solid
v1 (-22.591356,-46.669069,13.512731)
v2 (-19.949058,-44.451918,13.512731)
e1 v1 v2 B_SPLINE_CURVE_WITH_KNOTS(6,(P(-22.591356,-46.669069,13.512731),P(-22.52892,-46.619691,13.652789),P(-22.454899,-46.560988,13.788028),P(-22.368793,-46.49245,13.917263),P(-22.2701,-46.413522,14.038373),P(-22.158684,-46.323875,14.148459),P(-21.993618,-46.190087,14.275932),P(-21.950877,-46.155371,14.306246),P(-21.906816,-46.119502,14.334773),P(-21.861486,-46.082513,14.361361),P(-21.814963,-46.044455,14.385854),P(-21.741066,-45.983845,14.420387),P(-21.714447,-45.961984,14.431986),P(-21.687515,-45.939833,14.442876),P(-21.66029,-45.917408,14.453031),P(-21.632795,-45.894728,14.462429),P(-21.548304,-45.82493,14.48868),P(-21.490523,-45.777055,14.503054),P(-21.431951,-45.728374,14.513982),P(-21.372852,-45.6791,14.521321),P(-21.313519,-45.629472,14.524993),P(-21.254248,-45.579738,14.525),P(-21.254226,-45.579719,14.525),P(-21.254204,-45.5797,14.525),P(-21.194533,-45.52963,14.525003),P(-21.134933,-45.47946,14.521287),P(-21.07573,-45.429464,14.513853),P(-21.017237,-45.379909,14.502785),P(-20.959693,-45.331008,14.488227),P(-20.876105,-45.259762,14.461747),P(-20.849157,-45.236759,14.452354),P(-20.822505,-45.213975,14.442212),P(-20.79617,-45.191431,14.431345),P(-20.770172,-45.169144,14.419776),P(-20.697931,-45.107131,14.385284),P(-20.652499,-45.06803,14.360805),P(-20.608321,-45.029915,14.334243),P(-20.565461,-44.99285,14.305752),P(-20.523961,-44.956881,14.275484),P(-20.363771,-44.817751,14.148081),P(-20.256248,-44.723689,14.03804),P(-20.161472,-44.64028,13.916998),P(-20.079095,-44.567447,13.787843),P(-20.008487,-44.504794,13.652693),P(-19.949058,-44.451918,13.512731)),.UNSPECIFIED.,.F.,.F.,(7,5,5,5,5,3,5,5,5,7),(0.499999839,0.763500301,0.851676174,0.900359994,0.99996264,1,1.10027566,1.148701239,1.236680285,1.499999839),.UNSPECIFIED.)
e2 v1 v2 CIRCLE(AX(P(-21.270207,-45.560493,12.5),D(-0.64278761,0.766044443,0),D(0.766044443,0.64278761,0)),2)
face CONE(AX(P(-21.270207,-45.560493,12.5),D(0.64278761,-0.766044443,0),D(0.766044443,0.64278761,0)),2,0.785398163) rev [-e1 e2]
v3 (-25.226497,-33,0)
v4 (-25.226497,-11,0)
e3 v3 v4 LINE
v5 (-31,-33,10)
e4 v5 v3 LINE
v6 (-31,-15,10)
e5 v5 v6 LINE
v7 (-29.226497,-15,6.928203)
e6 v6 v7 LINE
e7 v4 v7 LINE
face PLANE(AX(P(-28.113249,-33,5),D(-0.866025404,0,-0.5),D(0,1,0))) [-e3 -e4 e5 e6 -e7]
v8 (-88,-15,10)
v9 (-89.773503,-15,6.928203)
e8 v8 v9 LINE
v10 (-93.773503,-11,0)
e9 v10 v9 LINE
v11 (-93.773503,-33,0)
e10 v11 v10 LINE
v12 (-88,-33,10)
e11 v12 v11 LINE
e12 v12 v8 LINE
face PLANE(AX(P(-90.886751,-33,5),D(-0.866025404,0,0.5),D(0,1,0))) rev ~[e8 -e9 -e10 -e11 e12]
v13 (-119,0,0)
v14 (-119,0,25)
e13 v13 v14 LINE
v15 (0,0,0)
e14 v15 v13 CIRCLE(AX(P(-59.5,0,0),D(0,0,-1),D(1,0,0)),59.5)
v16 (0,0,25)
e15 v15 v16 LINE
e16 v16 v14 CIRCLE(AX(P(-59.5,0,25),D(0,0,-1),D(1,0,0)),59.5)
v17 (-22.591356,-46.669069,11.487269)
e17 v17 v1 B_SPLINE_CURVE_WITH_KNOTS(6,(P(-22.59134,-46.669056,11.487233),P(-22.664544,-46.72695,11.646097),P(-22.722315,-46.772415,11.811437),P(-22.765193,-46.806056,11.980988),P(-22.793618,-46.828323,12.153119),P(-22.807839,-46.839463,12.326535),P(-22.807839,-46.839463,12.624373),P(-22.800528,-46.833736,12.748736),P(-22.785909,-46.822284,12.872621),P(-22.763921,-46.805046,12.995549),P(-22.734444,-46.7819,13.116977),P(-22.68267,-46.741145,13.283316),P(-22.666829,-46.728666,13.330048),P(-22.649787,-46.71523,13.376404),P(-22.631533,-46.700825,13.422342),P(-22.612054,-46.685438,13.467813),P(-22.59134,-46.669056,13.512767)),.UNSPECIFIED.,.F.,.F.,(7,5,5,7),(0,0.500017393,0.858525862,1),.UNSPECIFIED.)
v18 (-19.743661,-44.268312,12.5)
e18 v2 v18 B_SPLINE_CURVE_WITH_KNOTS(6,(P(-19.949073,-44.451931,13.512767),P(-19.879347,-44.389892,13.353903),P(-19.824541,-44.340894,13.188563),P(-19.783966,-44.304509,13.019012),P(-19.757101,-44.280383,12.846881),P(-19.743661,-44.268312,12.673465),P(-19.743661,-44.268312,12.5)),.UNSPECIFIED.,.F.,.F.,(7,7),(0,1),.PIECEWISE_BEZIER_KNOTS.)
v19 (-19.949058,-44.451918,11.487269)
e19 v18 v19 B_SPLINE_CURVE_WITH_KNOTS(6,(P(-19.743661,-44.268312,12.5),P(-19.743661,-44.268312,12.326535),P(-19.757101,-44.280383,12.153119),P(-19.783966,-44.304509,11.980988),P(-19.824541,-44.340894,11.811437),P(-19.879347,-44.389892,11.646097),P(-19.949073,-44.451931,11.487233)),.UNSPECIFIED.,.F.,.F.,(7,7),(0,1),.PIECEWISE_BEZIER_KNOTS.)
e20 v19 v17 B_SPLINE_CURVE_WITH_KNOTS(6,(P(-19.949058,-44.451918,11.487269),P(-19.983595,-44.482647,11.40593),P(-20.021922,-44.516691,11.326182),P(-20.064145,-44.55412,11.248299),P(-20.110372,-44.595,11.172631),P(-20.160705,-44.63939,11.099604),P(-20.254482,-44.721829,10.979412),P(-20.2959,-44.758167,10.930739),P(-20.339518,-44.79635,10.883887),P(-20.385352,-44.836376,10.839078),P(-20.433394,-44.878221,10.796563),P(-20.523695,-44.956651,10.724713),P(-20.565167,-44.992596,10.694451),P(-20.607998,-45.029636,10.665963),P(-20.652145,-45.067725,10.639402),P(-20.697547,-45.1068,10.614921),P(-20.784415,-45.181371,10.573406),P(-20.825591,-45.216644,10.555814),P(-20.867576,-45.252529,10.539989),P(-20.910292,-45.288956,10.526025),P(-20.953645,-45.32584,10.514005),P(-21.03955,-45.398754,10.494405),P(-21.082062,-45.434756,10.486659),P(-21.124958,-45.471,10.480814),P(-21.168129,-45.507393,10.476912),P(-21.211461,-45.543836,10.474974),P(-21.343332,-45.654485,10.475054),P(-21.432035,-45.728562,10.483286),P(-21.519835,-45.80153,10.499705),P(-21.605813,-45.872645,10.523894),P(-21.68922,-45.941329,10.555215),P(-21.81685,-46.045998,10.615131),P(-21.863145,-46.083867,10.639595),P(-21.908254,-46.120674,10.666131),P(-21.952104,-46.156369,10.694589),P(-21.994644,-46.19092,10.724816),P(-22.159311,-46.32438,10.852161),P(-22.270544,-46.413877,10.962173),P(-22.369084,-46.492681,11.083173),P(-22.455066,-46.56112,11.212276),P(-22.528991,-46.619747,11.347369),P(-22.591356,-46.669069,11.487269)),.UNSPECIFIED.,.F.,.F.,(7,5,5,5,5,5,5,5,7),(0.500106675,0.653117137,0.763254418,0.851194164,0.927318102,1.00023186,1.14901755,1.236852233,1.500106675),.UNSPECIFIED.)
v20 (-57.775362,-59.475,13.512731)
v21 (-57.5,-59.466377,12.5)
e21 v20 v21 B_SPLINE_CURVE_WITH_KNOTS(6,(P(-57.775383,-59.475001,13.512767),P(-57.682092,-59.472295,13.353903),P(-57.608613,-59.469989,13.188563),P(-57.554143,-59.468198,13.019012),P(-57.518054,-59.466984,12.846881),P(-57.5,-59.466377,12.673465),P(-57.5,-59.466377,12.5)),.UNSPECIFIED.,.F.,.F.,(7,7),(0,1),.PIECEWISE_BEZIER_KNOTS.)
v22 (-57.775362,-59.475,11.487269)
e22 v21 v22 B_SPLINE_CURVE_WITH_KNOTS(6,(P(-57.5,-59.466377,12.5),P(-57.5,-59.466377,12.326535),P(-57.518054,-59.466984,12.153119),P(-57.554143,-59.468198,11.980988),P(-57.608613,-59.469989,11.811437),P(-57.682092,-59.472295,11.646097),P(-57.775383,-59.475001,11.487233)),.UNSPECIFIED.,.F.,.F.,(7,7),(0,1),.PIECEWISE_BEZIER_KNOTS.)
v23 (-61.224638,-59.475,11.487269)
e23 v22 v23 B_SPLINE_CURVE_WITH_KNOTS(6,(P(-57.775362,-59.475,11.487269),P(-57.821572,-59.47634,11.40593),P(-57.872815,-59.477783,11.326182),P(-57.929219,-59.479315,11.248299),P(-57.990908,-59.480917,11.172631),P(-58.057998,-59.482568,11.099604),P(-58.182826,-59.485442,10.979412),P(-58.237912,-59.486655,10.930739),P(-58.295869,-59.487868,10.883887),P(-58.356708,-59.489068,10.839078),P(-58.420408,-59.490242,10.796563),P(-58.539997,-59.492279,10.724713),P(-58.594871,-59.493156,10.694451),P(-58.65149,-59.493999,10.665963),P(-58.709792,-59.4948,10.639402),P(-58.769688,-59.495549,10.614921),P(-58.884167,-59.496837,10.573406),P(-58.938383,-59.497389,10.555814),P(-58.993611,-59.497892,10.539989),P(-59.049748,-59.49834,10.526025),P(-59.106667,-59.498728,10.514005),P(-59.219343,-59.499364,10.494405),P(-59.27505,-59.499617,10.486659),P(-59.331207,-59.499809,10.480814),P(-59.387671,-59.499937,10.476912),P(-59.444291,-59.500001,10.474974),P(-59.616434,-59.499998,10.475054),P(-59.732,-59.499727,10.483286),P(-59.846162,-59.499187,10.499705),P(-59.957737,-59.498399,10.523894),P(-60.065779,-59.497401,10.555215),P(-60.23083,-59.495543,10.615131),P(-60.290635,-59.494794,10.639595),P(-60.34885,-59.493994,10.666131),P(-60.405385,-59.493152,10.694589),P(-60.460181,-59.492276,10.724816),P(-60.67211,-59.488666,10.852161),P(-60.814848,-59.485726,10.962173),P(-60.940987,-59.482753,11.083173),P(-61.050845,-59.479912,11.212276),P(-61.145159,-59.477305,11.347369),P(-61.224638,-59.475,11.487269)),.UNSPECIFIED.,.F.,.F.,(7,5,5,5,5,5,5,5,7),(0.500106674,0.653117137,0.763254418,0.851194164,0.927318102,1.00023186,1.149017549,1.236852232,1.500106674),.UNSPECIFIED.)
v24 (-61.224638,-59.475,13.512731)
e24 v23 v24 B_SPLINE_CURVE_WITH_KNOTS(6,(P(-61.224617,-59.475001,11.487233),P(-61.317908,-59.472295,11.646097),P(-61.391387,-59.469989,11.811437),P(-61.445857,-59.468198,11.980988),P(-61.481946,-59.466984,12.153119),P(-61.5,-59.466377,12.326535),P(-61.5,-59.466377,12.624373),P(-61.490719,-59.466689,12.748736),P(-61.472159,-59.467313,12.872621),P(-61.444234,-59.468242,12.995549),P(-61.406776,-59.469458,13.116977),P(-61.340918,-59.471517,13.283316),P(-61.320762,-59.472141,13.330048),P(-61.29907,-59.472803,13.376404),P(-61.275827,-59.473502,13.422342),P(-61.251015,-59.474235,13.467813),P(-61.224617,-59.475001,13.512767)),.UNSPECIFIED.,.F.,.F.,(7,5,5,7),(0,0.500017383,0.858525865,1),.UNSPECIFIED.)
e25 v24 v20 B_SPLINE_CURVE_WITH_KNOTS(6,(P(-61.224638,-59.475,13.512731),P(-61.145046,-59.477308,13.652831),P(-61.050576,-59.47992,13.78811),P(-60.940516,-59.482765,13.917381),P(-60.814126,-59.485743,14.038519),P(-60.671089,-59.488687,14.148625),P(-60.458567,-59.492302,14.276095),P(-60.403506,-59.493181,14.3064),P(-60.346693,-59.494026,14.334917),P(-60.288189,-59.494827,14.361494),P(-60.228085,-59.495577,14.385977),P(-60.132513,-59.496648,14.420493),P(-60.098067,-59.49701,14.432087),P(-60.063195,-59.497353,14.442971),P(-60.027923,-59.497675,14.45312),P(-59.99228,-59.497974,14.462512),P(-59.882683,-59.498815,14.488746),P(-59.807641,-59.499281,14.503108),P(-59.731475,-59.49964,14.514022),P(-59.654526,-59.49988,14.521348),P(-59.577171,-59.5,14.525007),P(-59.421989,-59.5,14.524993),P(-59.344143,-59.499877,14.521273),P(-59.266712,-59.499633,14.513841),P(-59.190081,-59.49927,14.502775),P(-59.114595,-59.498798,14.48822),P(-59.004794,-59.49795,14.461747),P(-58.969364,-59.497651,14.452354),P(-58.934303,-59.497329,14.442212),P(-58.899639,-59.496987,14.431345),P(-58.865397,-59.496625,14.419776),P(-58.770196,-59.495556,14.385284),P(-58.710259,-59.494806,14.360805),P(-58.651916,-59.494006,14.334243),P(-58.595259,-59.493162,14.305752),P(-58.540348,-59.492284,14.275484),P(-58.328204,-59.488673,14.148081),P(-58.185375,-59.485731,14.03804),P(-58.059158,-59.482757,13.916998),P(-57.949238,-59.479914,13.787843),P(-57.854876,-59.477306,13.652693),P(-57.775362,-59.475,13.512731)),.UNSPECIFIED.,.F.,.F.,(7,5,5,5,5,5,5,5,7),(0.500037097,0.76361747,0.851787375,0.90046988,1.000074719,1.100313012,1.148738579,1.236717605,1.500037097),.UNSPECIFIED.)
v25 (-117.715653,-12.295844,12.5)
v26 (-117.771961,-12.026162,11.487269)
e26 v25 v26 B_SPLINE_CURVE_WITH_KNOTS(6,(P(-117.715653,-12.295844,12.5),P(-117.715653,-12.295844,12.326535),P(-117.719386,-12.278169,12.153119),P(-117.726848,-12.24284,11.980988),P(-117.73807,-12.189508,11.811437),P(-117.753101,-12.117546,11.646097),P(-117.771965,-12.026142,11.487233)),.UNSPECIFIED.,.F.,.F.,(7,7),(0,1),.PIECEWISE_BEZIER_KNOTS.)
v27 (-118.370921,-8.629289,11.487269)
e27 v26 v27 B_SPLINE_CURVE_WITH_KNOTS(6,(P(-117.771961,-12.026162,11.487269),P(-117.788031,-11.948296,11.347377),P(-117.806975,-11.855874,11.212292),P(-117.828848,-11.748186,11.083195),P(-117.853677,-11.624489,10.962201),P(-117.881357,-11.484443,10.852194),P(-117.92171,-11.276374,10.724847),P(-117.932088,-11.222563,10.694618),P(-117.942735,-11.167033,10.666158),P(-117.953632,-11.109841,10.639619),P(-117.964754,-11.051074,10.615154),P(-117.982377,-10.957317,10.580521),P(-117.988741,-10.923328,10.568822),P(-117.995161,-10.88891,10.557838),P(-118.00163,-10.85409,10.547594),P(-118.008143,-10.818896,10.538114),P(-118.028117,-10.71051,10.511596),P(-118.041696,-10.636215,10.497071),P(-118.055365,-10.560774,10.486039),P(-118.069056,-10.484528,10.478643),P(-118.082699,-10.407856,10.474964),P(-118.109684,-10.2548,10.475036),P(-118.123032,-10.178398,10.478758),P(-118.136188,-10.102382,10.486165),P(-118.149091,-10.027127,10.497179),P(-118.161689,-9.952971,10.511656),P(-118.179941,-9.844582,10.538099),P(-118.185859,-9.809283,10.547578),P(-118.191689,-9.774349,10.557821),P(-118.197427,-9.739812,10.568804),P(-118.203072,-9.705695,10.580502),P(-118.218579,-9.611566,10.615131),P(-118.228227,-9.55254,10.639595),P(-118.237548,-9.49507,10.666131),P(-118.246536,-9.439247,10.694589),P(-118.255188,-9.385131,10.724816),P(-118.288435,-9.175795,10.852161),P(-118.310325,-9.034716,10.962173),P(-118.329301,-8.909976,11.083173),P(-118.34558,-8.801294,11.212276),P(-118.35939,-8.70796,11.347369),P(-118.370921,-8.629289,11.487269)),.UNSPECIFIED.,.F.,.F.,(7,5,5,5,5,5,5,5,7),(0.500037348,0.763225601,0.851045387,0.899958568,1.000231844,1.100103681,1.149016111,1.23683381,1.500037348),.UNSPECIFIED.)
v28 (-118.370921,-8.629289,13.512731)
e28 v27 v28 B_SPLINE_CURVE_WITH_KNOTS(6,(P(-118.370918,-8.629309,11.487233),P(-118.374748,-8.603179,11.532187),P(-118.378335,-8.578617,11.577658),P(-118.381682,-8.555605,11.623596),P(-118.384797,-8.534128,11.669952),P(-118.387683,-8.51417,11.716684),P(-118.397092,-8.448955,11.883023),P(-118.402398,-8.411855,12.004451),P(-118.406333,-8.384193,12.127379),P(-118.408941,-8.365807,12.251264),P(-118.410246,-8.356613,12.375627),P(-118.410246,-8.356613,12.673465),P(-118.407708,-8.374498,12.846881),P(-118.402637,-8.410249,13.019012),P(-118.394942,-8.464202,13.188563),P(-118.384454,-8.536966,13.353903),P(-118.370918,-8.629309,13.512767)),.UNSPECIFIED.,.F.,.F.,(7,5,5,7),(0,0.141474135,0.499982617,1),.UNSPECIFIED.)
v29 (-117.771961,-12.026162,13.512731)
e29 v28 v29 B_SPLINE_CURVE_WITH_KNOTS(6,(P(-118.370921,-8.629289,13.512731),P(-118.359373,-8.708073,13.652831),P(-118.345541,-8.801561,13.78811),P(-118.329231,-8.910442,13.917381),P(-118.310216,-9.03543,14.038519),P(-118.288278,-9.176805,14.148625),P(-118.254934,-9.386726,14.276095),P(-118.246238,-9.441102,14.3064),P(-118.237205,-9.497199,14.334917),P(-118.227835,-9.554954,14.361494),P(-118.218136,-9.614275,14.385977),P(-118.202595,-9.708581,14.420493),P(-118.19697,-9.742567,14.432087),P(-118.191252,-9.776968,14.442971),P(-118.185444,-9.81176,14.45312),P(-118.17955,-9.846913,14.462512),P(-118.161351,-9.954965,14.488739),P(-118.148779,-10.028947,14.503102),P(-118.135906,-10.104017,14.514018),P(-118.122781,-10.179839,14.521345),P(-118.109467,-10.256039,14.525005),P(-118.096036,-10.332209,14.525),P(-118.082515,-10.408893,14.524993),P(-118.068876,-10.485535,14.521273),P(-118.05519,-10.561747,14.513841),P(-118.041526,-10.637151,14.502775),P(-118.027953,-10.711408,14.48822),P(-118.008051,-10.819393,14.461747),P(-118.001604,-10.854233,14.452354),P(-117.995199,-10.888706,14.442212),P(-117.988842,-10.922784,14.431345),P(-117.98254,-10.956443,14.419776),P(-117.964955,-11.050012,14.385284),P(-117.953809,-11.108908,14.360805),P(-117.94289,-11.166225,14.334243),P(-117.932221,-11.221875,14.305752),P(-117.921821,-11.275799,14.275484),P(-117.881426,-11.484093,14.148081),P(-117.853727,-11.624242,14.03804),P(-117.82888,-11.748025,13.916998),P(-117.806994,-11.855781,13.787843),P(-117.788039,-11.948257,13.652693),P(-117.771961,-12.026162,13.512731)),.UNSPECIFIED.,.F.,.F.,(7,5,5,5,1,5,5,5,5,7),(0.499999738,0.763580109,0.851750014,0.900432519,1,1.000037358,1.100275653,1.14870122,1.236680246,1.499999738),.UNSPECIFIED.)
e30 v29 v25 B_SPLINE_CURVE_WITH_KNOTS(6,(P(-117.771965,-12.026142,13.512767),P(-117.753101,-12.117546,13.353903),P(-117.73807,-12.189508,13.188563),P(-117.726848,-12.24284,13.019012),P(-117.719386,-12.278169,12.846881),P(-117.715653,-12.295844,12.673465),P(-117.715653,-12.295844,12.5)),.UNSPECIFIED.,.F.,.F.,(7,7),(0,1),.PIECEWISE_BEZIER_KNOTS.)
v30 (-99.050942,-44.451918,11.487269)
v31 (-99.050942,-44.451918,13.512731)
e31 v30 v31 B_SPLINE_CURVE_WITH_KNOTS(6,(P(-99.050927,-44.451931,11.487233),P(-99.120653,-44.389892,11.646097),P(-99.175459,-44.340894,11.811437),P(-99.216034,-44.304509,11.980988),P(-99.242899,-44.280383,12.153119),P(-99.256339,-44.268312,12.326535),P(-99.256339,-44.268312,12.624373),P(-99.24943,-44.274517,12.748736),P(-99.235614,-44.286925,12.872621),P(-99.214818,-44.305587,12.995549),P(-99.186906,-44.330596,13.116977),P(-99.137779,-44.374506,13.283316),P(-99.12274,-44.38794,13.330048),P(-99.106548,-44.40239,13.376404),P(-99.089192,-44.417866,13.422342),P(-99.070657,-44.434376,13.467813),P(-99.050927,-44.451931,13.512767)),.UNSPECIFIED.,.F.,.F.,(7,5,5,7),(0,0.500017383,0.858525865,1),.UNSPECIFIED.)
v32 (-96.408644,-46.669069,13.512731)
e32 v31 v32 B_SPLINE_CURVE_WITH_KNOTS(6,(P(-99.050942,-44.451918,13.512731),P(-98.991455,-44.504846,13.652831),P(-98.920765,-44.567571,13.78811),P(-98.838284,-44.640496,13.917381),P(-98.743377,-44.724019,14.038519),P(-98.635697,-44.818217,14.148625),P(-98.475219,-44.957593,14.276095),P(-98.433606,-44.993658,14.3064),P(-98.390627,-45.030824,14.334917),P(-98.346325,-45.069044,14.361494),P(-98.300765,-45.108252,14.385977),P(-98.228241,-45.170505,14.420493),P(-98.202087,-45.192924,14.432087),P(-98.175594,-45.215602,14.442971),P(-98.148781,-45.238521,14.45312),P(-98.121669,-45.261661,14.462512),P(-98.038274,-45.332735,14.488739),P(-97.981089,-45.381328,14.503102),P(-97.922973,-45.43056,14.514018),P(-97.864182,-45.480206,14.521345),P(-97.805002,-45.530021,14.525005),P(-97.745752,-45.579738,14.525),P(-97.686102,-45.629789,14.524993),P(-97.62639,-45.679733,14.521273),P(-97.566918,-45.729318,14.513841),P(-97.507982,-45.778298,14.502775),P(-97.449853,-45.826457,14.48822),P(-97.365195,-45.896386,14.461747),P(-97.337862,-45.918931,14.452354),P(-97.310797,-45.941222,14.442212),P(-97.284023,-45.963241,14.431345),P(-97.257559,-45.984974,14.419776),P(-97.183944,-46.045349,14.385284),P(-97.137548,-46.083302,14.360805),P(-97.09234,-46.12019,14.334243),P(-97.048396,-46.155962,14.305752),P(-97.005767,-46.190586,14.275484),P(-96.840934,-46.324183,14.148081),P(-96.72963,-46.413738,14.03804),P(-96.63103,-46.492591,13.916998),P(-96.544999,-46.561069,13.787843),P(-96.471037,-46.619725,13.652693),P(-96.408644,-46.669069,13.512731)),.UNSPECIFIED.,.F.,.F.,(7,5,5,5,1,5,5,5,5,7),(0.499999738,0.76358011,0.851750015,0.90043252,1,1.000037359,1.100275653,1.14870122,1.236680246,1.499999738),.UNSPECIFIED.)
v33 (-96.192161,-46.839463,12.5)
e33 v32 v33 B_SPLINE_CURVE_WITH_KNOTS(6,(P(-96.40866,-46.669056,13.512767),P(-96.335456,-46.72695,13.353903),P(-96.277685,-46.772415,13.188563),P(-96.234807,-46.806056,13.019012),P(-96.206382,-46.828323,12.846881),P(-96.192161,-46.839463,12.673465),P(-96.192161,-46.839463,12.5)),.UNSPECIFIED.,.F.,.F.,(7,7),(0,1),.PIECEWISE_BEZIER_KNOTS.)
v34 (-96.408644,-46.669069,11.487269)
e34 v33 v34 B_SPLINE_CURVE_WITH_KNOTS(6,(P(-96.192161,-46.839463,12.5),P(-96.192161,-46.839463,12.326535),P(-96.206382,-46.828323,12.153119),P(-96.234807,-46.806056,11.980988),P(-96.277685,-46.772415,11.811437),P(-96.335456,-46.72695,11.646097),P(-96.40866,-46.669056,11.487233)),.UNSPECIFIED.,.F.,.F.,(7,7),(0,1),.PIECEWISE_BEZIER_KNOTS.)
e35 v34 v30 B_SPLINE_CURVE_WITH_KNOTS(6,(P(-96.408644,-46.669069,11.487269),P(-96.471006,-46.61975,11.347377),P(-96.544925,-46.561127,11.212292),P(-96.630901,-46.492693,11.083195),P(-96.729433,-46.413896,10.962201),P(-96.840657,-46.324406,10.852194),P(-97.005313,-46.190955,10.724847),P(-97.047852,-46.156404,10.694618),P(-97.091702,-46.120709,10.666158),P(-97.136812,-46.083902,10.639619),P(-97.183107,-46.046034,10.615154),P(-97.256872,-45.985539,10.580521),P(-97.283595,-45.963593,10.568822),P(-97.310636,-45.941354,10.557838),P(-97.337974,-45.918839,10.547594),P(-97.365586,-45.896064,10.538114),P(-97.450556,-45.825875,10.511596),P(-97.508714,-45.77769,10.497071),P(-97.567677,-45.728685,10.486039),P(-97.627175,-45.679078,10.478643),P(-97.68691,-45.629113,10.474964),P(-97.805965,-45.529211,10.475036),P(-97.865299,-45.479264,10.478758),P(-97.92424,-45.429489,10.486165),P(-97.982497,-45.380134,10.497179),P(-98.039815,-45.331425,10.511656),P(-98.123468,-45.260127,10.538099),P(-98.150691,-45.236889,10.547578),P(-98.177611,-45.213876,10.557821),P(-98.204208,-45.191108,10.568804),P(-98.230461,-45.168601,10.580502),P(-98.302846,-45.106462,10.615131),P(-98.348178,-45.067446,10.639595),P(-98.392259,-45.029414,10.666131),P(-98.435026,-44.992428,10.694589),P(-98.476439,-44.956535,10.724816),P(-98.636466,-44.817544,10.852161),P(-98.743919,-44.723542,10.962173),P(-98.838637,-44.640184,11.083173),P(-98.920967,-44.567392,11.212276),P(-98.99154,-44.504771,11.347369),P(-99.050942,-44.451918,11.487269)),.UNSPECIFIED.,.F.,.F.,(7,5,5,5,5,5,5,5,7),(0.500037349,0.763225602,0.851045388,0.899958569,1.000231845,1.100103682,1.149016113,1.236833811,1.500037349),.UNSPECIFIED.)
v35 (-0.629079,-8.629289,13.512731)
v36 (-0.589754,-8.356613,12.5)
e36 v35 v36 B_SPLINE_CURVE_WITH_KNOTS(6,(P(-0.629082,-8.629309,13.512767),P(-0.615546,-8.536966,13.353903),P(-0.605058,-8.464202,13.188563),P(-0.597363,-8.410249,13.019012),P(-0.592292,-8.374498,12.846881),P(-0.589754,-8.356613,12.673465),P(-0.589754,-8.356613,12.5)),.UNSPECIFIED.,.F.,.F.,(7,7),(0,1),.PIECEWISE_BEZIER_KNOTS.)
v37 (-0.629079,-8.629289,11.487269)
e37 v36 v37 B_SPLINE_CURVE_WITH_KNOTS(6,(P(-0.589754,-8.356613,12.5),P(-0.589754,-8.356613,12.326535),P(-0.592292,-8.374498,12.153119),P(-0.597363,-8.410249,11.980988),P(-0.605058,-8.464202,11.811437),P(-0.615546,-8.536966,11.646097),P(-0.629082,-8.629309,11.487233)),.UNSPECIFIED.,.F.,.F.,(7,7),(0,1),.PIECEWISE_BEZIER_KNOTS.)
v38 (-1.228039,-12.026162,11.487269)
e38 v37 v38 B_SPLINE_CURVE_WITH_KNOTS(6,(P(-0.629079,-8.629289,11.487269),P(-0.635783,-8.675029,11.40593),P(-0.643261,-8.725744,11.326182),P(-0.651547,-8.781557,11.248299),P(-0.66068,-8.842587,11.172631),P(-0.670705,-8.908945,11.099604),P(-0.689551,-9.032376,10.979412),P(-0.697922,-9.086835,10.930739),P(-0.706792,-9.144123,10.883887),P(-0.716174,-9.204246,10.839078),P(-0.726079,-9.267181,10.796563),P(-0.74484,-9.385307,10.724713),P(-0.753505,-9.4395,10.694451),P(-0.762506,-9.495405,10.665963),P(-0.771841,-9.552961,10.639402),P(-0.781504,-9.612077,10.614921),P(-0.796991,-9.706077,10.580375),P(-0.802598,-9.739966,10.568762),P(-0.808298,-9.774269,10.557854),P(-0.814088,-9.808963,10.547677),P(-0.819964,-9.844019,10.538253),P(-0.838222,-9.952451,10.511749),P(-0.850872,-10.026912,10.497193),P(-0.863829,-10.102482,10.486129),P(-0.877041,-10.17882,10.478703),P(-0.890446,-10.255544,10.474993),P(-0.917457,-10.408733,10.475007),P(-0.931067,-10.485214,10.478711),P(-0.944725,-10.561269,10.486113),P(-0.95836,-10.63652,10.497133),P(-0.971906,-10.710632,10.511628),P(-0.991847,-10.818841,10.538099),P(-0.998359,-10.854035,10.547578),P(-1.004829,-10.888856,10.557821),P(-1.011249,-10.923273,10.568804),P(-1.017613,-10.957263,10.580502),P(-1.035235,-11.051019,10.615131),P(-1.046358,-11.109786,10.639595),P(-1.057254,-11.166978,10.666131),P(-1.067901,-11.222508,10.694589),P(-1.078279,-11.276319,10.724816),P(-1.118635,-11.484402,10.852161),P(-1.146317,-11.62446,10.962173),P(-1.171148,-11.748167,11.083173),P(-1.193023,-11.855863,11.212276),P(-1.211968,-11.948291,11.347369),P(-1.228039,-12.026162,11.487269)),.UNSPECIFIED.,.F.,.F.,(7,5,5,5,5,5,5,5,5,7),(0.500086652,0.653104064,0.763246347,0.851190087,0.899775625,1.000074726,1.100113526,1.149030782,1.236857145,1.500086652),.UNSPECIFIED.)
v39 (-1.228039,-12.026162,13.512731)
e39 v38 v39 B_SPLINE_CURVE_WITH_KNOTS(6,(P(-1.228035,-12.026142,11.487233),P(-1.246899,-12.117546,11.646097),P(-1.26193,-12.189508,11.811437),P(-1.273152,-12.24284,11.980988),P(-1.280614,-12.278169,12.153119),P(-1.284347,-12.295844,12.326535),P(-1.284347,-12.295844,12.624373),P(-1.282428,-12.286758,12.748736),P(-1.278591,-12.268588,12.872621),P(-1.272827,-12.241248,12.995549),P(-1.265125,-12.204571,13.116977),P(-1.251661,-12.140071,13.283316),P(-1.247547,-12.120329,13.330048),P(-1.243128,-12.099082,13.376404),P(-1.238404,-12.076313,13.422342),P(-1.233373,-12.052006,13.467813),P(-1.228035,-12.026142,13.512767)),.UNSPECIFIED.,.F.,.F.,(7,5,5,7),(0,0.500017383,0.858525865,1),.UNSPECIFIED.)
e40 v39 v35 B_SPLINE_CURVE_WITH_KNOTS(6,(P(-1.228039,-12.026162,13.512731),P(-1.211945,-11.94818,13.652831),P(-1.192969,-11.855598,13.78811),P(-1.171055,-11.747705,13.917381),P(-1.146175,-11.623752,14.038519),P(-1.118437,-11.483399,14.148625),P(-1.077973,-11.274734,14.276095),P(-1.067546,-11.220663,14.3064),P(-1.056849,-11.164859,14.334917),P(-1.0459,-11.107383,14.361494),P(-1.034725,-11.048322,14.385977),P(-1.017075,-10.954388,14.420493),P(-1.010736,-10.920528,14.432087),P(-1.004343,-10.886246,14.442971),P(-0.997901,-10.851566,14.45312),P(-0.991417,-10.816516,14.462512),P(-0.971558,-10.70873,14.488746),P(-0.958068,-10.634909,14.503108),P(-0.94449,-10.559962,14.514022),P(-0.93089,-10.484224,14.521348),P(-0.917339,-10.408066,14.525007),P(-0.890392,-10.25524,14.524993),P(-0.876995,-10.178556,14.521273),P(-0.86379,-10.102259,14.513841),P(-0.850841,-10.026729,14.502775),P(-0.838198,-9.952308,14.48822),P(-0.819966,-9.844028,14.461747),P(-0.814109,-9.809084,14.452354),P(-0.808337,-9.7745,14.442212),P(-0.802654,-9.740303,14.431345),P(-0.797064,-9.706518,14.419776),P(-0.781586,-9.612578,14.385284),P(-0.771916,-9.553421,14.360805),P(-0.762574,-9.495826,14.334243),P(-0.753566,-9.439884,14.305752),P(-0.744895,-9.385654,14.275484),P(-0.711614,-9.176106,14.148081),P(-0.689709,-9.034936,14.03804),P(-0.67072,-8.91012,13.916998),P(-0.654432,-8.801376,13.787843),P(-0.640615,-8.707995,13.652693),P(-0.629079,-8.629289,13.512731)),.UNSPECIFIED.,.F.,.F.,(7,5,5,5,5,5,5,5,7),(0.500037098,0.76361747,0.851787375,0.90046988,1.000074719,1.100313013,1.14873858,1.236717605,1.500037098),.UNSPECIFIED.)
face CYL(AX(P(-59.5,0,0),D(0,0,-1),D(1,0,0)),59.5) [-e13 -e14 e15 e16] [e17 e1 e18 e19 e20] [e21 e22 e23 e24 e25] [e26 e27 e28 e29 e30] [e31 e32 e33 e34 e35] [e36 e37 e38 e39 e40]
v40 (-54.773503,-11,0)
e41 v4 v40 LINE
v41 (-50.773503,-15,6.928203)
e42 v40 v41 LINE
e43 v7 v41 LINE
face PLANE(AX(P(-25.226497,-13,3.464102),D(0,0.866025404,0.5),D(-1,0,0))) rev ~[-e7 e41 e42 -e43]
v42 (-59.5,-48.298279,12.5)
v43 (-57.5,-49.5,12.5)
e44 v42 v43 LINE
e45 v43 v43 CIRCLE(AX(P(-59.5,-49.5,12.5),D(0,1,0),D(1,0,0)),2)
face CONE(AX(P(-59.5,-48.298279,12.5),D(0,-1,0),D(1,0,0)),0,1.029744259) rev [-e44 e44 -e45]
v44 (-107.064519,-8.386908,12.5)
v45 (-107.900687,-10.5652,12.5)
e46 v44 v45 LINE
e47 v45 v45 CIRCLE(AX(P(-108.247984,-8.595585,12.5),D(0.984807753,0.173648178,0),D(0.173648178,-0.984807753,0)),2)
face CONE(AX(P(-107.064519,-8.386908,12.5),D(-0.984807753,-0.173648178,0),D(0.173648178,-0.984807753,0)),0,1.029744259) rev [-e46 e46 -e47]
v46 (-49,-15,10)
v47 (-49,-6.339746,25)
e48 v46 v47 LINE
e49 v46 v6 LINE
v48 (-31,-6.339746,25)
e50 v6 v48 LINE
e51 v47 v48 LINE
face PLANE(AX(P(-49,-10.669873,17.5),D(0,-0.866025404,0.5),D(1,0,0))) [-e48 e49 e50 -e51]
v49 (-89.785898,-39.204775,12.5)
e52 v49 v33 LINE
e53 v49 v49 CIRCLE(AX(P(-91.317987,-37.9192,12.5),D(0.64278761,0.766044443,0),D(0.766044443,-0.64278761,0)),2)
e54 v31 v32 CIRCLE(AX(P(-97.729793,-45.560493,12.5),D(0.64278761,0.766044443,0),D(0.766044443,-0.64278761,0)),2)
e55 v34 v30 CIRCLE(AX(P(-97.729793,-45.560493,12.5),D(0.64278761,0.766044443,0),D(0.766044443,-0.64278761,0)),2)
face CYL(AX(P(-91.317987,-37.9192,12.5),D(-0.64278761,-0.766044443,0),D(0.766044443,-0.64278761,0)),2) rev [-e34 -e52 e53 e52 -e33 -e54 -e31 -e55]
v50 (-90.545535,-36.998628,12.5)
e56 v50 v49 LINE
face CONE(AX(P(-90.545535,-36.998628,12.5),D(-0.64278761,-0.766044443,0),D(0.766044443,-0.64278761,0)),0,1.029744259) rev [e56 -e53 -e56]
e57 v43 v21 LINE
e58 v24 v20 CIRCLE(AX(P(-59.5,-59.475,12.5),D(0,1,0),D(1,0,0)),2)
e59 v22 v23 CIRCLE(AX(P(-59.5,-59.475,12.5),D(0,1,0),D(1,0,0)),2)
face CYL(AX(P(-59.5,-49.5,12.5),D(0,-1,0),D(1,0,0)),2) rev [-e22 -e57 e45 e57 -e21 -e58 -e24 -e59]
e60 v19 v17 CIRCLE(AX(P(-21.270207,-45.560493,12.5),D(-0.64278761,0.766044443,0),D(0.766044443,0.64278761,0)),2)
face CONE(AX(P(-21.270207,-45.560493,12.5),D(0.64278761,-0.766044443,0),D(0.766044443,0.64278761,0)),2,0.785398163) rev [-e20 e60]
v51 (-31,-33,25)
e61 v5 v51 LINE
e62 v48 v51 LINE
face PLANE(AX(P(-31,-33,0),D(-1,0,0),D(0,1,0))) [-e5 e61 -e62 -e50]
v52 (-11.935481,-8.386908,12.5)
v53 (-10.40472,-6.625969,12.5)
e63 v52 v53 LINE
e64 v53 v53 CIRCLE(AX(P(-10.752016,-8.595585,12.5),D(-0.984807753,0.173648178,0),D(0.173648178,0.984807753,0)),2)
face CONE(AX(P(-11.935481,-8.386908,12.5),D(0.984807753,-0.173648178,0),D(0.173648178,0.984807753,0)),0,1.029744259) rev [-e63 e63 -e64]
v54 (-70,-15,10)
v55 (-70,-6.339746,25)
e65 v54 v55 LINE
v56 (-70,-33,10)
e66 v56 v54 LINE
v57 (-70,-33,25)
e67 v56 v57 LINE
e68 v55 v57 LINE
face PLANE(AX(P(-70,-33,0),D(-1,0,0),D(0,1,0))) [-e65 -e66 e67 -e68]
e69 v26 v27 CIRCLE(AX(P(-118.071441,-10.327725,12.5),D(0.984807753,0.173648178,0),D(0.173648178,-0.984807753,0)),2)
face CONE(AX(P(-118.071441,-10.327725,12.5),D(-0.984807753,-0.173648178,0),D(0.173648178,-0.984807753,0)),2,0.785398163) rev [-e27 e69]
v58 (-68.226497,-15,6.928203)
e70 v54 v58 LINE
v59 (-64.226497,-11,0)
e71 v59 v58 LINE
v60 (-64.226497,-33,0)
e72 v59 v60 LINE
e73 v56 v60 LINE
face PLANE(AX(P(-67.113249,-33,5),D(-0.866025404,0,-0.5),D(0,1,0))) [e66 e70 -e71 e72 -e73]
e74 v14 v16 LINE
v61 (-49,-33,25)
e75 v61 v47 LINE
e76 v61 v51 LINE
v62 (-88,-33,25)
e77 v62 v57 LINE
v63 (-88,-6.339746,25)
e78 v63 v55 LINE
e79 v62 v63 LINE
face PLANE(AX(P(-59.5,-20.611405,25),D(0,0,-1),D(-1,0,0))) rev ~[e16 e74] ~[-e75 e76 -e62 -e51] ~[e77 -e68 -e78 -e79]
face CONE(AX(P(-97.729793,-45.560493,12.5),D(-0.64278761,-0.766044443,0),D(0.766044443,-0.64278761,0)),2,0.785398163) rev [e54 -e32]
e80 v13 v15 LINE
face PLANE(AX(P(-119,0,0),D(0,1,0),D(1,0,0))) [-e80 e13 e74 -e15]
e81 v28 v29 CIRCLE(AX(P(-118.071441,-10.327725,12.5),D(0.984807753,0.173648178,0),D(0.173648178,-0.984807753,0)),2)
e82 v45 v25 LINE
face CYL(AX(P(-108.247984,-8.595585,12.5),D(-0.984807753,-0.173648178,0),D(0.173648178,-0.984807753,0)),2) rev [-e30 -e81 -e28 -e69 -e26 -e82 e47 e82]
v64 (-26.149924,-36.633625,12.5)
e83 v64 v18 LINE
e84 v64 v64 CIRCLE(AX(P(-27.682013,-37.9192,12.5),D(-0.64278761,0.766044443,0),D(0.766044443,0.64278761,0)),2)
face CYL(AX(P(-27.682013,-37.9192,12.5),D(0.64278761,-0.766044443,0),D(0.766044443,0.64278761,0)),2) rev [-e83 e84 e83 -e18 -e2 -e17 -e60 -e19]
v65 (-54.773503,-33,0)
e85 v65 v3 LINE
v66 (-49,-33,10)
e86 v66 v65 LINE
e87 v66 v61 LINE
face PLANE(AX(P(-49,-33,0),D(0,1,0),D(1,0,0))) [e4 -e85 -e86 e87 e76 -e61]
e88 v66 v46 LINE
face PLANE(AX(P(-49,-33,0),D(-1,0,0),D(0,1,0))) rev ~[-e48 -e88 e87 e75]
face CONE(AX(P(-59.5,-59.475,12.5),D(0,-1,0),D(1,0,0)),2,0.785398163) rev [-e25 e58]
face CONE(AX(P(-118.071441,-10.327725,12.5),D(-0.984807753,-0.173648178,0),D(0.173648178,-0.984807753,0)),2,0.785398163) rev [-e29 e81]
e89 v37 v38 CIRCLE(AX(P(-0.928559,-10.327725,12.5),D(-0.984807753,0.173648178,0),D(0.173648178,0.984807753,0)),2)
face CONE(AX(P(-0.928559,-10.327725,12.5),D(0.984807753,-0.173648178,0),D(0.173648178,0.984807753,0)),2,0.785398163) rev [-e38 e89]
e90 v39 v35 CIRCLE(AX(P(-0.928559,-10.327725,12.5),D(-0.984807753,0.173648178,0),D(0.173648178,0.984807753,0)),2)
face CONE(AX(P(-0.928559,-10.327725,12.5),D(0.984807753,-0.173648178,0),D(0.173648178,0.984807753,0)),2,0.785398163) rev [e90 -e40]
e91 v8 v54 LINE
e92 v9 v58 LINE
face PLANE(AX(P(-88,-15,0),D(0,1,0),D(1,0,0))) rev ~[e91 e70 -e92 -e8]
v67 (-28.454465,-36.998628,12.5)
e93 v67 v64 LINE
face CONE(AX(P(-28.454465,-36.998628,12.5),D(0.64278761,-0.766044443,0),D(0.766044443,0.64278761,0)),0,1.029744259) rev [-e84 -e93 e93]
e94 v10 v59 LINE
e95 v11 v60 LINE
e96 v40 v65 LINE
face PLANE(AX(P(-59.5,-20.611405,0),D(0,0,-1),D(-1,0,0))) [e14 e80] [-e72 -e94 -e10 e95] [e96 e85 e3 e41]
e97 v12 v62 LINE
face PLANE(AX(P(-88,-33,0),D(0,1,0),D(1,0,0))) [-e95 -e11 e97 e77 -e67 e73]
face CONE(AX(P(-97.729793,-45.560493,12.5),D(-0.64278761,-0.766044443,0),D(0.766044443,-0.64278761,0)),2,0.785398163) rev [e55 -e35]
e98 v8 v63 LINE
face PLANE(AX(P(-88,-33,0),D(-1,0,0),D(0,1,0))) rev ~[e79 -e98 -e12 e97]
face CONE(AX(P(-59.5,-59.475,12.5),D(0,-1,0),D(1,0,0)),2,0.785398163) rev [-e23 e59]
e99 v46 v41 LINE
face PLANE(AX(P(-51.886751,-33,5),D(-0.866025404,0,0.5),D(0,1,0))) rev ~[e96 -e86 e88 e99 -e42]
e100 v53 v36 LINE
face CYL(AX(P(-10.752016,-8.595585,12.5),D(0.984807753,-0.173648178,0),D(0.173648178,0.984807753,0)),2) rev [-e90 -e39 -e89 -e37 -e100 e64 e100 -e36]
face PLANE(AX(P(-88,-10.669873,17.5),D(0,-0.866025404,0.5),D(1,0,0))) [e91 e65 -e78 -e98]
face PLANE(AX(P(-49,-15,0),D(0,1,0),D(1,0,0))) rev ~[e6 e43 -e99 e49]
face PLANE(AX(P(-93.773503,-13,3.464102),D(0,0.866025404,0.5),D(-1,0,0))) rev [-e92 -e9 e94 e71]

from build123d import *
from OCP.BRepFilletAPI import BRepFilletAPI_MakeChamfer

# Parameters (mm, degrees)
SKETCH1_W           = 18
SKETCH1_H           = 18
BOSS_EXTRUDE1_DEPTH = 25
CIRPATTERN1_COUNT   = 5
CIRPATTERN1_ANGLE   = 160
CHAMFER1_SIZE       = 15
CHAMFER1_SIZE2      = 8.660254038
CHAMFER2_SIZE       = 10
CHAMFER2_SIZE2      = 5.773502692
CHAMFER3_SIZE       = 4
CHAMFER3_SIZE2      = 6.92820323


with BuildPart() as part:
    # Sketch1 → Boss-Extrude1 (new body)
    with BuildSketch(Plane.XY):
        with BuildLine():
            Line((-119, 0), (0, 0))
            ThreePointArc((0, 0), (-59.5, -59.5), (-119, 0))
        make_face()
        with Locations((-40, -24)):
            Rectangle(SKETCH1_W, SKETCH1_H, mode=Mode.SUBTRACT)
        with Locations((-79, -24)):
            Rectangle(SKETCH1_W, SKETCH1_H, mode=Mode.SUBTRACT)
    extrude(amount=BOSS_EXTRUDE1_DEPTH)

    # Sketch4 → Ø4.0mm Dowel Hole2 (revolve, cut)
    with BuildSketch(Plane(origin=(-0.903938696, -10.332066571, 12.5), x_dir=(0.1736481776669305, 0.9848077530122081, 0), z_dir=(0, 0, 1))):
        Polygon((0, 0), (0, 11.201721238), (2, 10), (2, 0.025), (2.025, 0), align=None)
    f_4_0mm_dowel_hole2 = revolve(axis=Axis((5.349590536, -11.434732499, 12.5), (-0.9848077530122081, 0.1736481776669305, 0)), mode=Mode.SUBTRACT)

    # CirPattern1: Ø4.0mm Dowel Hole2 ×5 about axis
    cirpattern1_axis = Axis((-59.5, 0, 0), (0, 0, -1))
    for i in range(1, CIRPATTERN1_COUNT):
        add(f_4_0mm_dowel_hole2.rotate(cirpattern1_axis, i * CIRPATTERN1_ANGLE / (CIRPATTERN1_COUNT - 1)), mode=Mode.SUBTRACT)

    # Chamfer1: one chamfer whose edges measure the first distance from different faces: ONE call of the kernel's chamfer builder (chamfer() names one face for all edges)
    chamfer1_edges_1 = [part.edges().sort_by_distance(p)[0] for p in [
        (-40, -15, 25),
    ]]
    chamfer1_side_1 = [part.faces().sort_by_distance(p)[0] for p in [
        (-40, -15, 12.5),
    ]]
    chamfer1_edges_2 = [part.edges().sort_by_distance(p)[0] for p in [
        (-79, -15, 25),
    ]]
    chamfer1_side_2 = [part.faces().sort_by_distance(p)[0] for p in [
        (-79, -15, 12.5),
    ]]
    chamfer1 = BRepFilletAPI_MakeChamfer(part.part.solid().wrapped)
    for e in chamfer1_edges_1:
        chamfer1.Add(CHAMFER1_SIZE, CHAMFER1_SIZE2, e.wrapped, chamfer1_side_1[0].wrapped)  # the first distance lies on this face
    for e in chamfer1_edges_2:
        chamfer1.Add(CHAMFER1_SIZE, CHAMFER1_SIZE2, e.wrapped, chamfer1_side_2[0].wrapped)  # the first distance lies on this face
    add(Compound.cast(chamfer1.Shape()), mode=Mode.REPLACE)

    # Chamfer2: one chamfer whose edges measure the first distance from different faces: ONE call of the kernel's chamfer builder (chamfer() names one face for all edges)
    chamfer2_edges_1 = [part.edges().sort_by_distance(p)[0] for p in [
        (-49, -24, 0),
    ]]
    chamfer2_side_1 = [part.faces().sort_by_distance(p)[0] for p in [
        (-49, -22.500700474, 13.445989877),
    ]]
    chamfer2_edges_2 = [part.edges().sort_by_distance(p)[0] for p in [
        (-31, -24, 0),
    ]]
    chamfer2_side_2 = [part.faces().sort_by_distance(p)[0] for p in [
        (-31, -22.500700474, 13.445989877),
    ]]
    chamfer2_edges_3 = [part.edges().sort_by_distance(p)[0] for p in [
        (-88, -24, 0),
    ]]
    chamfer2_side_3 = [part.faces().sort_by_distance(p)[0] for p in [
        (-88, -22.500700474, 13.445989877),
    ]]
    chamfer2_edges_4 = [part.edges().sort_by_distance(p)[0] for p in [
        (-70, -24, 0),
    ]]
    chamfer2_side_4 = [part.faces().sort_by_distance(p)[0] for p in [
        (-70, -22.500700474, 13.445989877),
    ]]
    chamfer2 = BRepFilletAPI_MakeChamfer(part.part.solid().wrapped)
    for e in chamfer2_edges_1:
        chamfer2.Add(CHAMFER2_SIZE, CHAMFER2_SIZE2, e.wrapped, chamfer2_side_1[0].wrapped)  # the first distance lies on this face
    for e in chamfer2_edges_2:
        chamfer2.Add(CHAMFER2_SIZE, CHAMFER2_SIZE2, e.wrapped, chamfer2_side_2[0].wrapped)  # the first distance lies on this face
    for e in chamfer2_edges_3:
        chamfer2.Add(CHAMFER2_SIZE, CHAMFER2_SIZE2, e.wrapped, chamfer2_side_3[0].wrapped)  # the first distance lies on this face
    for e in chamfer2_edges_4:
        chamfer2.Add(CHAMFER2_SIZE, CHAMFER2_SIZE2, e.wrapped, chamfer2_side_4[0].wrapped)  # the first distance lies on this face
    add(Compound.cast(chamfer2.Shape()), mode=Mode.REPLACE)

    # Chamfer3
    chamfer3_edges = [part.edges().sort_by_distance(p)[0] for p in [
        (-40, -15, 0),
        (-79, -15, 0),
    ]]
    chamfer3_side = [part.faces().sort_by_distance(p)[0] for p in [
        (-59.5, -25.548841696, 0),
    ]]
    chamfer(chamfer3_edges, length=CHAMFER3_SIZE, length2=CHAMFER3_SIZE2, reference=chamfer3_side[0])


solid = part.part
